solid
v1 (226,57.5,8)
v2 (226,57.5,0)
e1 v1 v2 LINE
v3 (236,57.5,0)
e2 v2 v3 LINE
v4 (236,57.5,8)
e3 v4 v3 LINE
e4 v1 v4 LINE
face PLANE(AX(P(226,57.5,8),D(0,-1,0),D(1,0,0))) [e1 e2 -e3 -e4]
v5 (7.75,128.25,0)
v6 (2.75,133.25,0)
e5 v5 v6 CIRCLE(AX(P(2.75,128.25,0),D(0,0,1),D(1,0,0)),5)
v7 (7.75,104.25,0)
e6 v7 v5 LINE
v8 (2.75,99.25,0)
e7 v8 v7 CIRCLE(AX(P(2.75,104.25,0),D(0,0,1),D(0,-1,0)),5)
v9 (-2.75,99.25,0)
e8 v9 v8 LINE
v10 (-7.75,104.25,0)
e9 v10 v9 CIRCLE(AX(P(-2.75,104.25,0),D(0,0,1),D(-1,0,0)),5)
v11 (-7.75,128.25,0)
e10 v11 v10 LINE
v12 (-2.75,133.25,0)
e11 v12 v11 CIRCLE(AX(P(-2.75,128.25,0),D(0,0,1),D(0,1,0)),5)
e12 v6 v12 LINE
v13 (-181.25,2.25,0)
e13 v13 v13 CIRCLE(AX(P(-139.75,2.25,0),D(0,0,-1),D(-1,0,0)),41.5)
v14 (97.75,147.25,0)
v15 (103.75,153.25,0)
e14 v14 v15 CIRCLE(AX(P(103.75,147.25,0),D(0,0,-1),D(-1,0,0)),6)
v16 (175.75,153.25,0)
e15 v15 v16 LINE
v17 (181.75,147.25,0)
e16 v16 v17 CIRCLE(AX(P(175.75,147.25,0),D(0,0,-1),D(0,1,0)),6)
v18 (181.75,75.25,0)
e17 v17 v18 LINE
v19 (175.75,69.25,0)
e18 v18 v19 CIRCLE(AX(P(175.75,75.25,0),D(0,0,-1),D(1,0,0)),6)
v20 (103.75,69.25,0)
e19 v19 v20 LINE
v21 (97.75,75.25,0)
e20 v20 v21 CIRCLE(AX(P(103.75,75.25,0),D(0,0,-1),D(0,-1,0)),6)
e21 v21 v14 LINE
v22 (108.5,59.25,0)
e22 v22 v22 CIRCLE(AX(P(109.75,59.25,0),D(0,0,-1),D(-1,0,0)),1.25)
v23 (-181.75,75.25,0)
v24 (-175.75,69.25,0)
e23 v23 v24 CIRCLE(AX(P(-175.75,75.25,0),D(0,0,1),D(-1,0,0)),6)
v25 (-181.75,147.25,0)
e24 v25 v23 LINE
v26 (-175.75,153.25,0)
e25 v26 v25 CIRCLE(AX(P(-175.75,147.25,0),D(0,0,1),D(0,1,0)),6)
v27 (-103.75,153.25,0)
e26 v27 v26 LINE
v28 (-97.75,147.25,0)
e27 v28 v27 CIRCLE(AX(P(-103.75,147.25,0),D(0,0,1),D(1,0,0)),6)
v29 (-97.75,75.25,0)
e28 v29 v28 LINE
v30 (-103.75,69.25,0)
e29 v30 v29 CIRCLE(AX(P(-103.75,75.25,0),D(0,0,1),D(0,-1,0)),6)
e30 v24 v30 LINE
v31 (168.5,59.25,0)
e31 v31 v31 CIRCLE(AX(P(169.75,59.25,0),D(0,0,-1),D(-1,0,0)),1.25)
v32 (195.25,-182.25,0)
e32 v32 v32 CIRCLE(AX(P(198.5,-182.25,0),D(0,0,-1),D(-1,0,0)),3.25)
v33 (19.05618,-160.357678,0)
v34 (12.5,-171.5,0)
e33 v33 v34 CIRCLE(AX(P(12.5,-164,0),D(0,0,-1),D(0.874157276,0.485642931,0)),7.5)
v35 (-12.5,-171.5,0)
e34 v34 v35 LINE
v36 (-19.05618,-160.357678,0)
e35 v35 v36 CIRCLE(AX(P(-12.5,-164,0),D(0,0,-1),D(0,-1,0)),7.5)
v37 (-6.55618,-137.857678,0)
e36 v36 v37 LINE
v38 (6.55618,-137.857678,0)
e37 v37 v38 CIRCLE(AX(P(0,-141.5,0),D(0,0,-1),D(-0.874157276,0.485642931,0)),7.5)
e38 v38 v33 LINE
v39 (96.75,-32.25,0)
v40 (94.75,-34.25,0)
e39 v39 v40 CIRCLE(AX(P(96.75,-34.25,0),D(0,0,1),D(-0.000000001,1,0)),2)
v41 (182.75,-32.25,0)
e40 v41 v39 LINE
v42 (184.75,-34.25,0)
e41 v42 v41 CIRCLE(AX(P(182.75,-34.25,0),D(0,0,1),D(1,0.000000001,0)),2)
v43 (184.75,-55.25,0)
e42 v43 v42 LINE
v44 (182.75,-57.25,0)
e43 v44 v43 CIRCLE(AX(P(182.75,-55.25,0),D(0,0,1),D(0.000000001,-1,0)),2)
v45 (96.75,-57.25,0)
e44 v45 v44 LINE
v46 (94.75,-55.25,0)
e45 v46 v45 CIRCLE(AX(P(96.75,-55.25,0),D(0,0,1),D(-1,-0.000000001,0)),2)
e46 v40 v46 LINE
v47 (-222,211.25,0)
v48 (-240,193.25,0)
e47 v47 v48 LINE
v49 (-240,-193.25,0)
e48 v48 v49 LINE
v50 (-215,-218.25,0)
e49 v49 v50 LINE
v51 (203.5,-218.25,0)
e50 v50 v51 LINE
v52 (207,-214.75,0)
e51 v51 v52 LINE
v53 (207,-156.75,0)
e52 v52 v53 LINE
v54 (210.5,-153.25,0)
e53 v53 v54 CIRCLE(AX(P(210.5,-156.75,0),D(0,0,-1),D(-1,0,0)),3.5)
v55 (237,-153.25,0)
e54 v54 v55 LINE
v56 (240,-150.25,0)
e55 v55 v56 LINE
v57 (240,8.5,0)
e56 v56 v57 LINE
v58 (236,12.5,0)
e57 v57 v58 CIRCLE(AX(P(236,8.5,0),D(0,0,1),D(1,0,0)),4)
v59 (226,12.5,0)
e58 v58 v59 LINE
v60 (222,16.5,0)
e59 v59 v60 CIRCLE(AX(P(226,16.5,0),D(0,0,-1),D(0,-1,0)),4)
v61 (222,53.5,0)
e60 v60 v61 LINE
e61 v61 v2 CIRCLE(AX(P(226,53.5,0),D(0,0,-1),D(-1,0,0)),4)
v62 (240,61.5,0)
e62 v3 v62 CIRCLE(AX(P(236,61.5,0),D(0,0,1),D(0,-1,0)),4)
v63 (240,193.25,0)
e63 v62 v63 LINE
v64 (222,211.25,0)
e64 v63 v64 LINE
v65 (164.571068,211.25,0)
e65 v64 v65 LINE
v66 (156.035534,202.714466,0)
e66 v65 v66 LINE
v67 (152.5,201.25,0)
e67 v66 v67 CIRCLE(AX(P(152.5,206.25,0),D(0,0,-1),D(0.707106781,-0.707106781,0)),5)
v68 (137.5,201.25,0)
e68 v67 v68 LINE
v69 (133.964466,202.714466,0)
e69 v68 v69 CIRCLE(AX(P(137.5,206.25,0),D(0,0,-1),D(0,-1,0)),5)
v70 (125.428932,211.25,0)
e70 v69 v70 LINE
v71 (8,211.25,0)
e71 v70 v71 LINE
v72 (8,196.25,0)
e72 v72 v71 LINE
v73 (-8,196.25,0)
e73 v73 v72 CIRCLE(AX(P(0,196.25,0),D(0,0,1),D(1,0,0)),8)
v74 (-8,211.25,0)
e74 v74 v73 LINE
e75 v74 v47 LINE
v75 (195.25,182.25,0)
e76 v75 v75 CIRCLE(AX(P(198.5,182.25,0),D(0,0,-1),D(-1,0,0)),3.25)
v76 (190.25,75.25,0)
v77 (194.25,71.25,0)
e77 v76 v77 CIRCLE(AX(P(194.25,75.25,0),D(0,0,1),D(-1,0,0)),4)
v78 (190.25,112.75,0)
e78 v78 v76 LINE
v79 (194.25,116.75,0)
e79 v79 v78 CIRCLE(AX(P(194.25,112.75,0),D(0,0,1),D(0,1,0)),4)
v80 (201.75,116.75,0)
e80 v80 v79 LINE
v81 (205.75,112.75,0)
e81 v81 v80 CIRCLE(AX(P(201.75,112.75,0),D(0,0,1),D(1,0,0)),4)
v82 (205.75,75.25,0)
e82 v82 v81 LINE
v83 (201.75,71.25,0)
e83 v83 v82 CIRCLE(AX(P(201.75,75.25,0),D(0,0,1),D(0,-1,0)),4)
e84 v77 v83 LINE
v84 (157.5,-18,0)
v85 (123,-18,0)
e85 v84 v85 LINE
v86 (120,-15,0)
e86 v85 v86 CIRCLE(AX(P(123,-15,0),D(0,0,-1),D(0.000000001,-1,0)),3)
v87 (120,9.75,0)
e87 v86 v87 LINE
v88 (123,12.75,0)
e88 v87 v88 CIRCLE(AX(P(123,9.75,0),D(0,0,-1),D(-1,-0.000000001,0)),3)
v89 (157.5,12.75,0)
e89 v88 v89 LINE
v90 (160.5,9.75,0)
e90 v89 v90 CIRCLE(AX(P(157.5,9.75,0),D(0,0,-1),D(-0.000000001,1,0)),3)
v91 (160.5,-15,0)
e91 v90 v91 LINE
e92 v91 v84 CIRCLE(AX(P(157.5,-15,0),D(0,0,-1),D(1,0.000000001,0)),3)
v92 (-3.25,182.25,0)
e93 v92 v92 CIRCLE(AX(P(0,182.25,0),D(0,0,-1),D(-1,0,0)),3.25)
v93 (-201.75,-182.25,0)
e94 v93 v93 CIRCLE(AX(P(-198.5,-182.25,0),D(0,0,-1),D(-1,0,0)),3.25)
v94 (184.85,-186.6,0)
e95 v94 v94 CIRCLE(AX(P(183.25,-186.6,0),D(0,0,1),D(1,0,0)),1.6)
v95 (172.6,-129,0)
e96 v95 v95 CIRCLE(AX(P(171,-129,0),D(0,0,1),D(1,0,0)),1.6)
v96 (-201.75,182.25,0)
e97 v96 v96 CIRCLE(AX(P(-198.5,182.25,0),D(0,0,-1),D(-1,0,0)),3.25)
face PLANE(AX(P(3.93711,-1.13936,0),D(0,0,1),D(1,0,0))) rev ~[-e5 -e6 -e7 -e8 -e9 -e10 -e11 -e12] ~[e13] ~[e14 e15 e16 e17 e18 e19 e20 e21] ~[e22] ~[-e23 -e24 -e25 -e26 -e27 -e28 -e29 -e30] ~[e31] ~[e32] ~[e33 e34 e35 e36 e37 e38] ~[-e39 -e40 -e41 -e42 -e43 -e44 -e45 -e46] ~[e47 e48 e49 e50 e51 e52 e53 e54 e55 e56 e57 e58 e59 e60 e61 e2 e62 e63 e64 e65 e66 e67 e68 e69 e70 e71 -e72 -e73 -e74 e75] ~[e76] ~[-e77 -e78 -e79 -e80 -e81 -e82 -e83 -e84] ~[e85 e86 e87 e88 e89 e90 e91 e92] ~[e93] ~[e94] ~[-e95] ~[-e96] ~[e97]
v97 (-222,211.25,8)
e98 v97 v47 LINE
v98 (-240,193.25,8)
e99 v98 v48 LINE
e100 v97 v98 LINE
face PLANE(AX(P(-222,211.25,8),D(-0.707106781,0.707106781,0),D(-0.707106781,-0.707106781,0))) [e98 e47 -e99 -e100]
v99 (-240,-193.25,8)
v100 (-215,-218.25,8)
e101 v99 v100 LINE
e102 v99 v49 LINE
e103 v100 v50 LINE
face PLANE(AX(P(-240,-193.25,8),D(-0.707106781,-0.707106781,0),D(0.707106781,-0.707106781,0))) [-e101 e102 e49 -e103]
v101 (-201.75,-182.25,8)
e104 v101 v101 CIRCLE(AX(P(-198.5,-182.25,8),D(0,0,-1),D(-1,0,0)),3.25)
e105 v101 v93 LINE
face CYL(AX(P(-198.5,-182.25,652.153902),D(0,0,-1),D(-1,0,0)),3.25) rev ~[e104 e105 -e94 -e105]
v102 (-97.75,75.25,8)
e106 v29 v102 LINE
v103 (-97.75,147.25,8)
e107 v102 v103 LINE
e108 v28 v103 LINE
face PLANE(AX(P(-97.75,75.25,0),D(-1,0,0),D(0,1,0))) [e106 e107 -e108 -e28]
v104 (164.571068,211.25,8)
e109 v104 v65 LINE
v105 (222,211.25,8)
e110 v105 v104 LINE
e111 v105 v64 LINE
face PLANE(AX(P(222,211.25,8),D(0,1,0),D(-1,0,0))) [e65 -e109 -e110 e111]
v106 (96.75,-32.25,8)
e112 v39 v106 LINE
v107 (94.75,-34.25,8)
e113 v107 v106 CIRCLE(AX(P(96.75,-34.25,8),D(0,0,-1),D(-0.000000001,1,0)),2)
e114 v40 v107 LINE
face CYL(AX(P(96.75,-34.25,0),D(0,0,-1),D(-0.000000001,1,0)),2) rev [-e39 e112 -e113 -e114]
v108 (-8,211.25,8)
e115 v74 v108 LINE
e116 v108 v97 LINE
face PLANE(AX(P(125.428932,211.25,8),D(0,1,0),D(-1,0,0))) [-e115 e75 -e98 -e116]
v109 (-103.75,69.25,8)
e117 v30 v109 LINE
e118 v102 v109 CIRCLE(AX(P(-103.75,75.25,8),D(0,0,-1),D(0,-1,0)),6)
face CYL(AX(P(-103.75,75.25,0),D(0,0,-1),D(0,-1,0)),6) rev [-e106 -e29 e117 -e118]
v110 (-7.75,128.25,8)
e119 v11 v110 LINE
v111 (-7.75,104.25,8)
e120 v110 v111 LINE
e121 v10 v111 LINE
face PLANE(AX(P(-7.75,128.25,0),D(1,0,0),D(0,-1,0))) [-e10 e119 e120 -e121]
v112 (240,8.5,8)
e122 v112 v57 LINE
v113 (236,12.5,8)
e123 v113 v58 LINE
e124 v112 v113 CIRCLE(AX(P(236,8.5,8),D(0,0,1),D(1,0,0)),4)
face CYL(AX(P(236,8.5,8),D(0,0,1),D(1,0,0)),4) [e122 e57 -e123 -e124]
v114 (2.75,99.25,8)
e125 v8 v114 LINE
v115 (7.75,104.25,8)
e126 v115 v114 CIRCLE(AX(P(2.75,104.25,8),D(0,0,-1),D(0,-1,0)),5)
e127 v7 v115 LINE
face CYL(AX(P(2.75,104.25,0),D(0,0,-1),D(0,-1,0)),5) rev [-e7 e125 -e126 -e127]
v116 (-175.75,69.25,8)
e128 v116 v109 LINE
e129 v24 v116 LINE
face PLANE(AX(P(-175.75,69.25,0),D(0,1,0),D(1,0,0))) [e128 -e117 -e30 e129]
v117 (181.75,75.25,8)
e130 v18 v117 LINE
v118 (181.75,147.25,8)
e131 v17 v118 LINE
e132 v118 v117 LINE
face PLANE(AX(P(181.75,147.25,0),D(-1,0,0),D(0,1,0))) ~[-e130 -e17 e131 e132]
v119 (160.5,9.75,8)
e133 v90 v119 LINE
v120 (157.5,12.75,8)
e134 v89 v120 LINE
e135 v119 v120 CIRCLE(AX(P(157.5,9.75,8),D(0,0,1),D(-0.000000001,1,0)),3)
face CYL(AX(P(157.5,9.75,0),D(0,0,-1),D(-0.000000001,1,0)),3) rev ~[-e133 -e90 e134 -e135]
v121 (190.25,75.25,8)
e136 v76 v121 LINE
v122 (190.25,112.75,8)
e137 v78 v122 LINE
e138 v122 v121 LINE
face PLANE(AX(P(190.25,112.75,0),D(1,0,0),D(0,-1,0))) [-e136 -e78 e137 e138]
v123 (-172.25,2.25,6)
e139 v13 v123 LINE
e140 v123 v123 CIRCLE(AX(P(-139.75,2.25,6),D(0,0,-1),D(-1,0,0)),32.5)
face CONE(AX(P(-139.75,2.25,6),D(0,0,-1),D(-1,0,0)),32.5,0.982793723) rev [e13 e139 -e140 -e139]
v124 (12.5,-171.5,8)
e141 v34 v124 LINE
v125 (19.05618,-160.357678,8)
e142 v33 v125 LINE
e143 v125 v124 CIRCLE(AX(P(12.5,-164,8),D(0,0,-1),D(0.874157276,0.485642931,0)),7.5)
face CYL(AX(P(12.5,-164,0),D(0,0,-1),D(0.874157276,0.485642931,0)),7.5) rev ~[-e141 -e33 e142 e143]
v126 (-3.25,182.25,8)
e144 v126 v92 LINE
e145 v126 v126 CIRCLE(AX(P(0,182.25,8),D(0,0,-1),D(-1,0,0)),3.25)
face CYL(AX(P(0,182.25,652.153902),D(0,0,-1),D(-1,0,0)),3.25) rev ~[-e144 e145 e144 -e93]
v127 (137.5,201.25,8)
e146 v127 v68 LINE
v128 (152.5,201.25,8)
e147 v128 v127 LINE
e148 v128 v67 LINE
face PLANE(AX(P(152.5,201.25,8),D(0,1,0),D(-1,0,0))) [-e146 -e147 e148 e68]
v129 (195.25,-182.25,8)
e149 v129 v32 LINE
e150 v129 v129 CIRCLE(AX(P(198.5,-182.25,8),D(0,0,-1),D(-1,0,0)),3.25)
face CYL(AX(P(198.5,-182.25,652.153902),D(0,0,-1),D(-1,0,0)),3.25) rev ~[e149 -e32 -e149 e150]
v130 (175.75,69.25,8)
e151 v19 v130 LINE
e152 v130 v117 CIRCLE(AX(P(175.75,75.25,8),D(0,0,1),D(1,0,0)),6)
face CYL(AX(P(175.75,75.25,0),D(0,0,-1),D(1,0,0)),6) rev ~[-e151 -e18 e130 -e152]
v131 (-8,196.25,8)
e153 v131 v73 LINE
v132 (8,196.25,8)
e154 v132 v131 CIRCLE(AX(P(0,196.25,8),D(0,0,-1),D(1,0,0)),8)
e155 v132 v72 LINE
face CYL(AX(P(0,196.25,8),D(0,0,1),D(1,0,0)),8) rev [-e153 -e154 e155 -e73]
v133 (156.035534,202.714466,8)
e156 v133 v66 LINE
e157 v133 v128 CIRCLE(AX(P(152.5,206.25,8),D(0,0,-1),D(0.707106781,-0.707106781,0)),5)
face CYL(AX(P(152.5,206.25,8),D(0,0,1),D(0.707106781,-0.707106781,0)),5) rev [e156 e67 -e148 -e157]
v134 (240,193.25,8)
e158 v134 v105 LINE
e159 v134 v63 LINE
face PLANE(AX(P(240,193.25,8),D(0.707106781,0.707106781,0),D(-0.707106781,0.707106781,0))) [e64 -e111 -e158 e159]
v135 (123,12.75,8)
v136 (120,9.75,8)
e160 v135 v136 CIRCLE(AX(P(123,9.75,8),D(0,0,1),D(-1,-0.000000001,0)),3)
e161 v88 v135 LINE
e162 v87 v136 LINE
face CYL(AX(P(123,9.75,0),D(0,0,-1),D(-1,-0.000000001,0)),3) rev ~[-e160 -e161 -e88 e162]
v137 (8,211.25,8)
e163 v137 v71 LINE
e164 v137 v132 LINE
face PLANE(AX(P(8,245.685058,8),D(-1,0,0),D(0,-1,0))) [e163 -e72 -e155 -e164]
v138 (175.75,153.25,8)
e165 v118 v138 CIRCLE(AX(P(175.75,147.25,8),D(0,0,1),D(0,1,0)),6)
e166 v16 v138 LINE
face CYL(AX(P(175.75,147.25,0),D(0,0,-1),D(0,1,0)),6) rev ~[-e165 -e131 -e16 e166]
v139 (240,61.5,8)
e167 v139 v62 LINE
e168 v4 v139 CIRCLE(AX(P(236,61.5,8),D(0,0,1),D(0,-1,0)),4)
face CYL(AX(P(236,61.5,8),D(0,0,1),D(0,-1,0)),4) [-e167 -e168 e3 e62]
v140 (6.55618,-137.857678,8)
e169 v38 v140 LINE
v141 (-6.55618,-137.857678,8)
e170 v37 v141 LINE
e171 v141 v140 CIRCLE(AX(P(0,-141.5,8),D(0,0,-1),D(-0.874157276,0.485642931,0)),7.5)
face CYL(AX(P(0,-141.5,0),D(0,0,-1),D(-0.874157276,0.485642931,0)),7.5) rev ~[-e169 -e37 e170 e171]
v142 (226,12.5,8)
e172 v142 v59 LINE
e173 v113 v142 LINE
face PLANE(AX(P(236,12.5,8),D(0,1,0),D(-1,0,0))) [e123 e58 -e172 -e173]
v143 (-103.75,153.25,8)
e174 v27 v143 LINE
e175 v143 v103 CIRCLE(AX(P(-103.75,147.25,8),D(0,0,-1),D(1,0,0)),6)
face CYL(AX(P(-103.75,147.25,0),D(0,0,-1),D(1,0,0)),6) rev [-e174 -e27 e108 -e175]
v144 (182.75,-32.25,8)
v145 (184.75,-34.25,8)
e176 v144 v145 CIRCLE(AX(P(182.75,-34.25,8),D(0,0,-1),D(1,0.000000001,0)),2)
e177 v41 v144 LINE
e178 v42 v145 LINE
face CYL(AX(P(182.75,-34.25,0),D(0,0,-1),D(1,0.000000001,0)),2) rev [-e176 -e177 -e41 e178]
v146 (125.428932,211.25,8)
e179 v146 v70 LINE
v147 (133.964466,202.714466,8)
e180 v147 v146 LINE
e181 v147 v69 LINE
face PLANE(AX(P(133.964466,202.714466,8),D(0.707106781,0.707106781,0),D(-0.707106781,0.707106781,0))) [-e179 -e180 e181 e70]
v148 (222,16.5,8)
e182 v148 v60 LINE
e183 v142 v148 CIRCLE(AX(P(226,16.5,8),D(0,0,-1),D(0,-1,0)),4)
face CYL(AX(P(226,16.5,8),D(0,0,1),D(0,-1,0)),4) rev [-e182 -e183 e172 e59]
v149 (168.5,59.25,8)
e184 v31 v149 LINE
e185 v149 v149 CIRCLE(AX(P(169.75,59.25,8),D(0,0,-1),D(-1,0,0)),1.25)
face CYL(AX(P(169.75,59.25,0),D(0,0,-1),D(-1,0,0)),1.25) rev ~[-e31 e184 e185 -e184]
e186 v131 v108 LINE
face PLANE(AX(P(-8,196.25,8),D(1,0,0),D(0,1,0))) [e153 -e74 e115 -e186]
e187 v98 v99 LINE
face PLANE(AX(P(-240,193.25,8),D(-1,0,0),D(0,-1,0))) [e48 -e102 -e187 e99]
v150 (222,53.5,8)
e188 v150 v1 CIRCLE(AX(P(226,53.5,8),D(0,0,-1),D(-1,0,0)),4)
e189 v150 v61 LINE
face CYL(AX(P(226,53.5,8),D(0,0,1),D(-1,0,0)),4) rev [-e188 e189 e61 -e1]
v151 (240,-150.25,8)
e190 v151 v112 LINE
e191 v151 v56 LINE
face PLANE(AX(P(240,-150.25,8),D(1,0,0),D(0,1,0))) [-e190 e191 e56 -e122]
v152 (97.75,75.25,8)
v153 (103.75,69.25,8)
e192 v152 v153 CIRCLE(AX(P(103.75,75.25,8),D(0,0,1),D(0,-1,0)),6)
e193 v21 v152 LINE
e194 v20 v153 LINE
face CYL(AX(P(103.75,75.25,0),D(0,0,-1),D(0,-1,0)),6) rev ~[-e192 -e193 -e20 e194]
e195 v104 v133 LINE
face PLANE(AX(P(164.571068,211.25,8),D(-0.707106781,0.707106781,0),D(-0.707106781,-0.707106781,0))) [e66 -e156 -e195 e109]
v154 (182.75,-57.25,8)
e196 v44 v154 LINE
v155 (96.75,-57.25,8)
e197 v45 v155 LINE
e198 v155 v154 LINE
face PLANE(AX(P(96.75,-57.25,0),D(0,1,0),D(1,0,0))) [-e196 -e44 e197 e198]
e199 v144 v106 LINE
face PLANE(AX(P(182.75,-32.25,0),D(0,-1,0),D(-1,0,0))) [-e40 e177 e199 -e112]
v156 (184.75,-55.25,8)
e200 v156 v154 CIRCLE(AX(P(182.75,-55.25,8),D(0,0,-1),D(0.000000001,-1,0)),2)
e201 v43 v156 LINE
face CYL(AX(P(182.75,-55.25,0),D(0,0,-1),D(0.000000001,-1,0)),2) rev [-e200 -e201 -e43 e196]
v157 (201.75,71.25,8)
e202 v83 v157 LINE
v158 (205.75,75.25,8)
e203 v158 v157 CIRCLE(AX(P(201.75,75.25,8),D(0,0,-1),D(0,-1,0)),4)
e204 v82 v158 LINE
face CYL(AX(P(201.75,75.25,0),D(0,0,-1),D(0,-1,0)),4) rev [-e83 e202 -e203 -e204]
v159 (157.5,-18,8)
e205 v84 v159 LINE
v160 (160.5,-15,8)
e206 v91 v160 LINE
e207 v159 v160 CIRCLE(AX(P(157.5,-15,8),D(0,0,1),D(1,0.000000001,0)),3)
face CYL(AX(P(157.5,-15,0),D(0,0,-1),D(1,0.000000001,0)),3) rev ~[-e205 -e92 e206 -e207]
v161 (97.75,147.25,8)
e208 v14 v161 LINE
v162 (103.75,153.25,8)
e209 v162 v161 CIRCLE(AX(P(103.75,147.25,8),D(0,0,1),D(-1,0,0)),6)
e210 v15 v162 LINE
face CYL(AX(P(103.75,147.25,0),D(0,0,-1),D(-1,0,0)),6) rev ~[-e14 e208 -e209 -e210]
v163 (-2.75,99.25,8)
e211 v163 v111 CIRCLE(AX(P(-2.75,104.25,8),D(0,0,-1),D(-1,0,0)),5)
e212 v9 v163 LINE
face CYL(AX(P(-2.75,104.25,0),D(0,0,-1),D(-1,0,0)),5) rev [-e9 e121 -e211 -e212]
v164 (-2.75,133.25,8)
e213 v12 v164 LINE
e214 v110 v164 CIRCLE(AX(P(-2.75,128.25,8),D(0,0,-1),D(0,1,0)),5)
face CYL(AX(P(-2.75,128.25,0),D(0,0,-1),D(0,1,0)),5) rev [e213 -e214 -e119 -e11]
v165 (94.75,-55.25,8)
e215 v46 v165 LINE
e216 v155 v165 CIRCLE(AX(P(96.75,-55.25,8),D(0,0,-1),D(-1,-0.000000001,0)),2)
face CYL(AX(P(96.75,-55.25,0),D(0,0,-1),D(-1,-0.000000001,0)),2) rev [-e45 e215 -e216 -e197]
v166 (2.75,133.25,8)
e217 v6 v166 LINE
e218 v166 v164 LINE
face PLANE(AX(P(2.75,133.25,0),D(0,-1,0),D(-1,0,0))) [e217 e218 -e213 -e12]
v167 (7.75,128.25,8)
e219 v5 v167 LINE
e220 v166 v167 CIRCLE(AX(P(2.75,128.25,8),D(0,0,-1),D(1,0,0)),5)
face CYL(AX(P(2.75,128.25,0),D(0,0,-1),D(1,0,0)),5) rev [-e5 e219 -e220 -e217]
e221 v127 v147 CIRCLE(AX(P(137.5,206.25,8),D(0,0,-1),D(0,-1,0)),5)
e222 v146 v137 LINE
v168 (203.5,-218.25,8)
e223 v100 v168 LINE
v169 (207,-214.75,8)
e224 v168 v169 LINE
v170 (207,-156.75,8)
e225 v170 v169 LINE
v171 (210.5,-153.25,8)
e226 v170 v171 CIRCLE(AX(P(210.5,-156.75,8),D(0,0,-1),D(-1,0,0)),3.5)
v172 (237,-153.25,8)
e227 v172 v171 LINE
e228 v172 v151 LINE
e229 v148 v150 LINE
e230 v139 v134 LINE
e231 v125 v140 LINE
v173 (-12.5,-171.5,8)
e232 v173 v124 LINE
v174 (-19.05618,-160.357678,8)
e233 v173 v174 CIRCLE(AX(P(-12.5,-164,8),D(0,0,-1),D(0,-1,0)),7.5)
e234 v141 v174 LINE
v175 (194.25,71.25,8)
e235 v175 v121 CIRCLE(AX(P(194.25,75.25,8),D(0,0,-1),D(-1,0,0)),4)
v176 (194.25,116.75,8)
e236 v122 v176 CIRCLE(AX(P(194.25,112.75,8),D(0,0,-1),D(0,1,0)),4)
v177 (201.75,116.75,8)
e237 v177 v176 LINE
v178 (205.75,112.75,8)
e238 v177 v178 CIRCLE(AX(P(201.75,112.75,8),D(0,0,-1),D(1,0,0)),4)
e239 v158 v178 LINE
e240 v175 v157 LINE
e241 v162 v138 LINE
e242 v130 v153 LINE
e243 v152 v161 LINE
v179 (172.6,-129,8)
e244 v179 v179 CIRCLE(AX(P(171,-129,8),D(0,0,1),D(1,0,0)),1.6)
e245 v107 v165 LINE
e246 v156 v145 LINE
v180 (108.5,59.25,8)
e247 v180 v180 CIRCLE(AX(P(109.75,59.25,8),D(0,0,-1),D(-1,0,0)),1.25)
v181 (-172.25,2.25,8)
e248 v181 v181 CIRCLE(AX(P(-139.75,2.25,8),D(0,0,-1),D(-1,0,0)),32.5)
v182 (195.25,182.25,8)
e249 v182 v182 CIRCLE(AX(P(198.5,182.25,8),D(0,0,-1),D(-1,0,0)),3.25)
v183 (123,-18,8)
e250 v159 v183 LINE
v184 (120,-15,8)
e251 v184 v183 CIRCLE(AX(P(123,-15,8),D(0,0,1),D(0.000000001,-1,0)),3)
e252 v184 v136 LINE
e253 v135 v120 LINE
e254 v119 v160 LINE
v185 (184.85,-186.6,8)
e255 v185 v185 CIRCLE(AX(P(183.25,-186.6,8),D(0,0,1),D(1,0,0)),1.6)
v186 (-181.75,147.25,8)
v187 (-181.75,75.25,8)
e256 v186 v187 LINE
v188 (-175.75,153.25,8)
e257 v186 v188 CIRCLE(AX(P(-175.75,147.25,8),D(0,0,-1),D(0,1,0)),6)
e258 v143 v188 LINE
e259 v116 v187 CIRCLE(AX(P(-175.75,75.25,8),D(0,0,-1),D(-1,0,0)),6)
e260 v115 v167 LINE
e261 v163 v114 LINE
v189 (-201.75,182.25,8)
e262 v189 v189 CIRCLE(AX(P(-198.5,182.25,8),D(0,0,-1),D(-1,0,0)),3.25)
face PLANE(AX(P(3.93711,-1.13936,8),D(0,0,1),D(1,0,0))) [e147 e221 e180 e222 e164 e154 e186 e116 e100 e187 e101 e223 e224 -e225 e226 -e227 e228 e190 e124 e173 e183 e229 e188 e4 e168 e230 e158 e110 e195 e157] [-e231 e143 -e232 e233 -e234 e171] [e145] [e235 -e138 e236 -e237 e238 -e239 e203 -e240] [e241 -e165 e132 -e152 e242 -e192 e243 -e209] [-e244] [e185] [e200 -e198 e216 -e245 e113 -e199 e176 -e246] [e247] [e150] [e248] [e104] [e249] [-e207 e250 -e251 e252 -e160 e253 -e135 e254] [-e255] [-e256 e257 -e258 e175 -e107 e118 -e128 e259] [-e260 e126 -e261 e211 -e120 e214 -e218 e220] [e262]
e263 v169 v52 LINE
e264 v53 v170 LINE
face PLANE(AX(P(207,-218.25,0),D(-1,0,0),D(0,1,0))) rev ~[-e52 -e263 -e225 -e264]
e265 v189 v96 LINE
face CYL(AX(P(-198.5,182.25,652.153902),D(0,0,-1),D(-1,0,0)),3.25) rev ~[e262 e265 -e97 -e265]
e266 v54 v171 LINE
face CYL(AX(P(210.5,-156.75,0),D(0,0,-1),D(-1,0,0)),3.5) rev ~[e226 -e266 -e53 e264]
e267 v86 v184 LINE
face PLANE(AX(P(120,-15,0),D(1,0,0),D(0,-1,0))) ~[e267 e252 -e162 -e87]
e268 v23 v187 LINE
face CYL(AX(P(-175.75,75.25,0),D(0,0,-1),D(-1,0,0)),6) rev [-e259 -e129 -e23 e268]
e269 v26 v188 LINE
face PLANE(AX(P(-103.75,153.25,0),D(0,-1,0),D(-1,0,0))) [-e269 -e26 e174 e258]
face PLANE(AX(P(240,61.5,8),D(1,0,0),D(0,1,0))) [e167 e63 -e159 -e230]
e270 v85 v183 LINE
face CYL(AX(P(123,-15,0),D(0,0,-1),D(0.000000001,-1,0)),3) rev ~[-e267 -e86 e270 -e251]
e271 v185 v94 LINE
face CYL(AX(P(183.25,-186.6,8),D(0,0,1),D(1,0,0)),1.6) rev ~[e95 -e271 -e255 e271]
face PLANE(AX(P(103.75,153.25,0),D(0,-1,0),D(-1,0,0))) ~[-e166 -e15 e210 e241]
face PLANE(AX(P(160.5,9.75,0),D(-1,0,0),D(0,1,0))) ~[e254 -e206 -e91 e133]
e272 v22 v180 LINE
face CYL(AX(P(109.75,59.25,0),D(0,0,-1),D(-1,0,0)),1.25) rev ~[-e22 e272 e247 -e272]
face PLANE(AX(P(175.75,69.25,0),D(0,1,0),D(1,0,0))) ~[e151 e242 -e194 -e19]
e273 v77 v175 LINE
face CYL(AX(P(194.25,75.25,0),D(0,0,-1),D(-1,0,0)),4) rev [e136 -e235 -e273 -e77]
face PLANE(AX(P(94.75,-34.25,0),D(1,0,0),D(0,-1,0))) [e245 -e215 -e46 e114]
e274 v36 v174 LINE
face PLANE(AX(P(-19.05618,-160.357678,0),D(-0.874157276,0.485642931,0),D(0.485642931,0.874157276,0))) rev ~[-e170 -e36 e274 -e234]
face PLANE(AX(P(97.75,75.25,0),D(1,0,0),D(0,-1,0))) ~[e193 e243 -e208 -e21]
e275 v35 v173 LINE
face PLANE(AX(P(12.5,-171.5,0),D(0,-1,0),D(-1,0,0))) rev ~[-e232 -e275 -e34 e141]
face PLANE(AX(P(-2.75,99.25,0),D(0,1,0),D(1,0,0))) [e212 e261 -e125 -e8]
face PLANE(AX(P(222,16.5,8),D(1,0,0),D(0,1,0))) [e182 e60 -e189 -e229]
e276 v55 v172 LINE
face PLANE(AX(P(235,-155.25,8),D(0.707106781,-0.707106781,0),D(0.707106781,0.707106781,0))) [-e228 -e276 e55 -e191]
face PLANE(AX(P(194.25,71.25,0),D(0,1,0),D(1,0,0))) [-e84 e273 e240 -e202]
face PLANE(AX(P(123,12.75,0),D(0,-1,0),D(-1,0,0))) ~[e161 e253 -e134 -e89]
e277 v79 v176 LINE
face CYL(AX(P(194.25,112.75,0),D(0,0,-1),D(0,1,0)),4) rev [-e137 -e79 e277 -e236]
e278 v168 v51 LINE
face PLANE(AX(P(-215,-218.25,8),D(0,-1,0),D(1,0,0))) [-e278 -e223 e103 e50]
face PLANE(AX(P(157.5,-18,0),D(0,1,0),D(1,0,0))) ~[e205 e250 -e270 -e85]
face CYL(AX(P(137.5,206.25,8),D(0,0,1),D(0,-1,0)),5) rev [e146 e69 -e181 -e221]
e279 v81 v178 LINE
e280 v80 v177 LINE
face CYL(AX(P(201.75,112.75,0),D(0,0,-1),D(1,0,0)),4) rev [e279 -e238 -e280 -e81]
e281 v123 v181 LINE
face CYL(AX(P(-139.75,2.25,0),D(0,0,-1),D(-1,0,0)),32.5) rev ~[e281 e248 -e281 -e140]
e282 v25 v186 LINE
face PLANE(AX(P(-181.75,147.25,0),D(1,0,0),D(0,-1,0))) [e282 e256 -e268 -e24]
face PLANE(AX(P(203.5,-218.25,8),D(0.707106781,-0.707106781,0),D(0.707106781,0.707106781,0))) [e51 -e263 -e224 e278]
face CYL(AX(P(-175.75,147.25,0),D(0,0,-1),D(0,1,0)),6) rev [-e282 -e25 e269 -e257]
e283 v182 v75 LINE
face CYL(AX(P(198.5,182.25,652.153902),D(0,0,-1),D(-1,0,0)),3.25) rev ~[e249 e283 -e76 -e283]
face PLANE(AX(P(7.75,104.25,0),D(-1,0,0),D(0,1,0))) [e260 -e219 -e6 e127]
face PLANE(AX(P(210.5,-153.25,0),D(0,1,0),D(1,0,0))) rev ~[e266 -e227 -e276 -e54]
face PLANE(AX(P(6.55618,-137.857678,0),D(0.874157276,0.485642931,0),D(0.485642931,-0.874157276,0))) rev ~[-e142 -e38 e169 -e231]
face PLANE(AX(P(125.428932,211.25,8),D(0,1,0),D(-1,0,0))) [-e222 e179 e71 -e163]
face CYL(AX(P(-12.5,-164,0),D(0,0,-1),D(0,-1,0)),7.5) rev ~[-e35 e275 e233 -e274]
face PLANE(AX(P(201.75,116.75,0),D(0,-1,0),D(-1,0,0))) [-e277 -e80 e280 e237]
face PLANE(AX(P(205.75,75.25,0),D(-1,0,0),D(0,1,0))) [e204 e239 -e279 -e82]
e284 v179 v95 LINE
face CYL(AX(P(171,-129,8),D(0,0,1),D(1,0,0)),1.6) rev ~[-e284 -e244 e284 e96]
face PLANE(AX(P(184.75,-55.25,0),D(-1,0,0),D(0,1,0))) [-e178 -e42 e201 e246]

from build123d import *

# Parameters (mm, degrees)
BOSS_EXTRUDE1_DEPTH        = 8
F_6_5_6_5_DIAMETER_HOLE1_D = 6.5
CUT_EXTRUDE1_DEPTH         = 325.495088493
CUT_EXTRUDE6_REACH         = 326.495
CUT_EXTRUDE7_REACH         = 326.495
CUT_EXTRUDE5_REACH         = 326.495
SKETCH9_R                  = 32.5
CHAMFER1_SIZE              = 9
CHAMFER1_SIZE2             = 6
CUT_EXTRUDE8_REACH         = 326.495
SKETCH13_R                 = 1.6
CUT_EXTRUDE9_REACH         = 326.495
CUT_EXTRUDE10_DEPTH        = 325.495088493
CUT_EXTRUDE11_REACH        = 326.495
SKETCH16_R                 = 1.25


with BuildPart() as part:
    # Sketch1 → Boss-Extrude1 (new body)
    with BuildSketch(Plane.XY.offset(8)):
        with BuildLine():
            Line((152.5, 201.25), (137.5, 201.25))
            ThreePointArc((137.5, 201.25), (135.586582838, 201.630602337), (133.964466094, 202.714466094))
            Line((133.964466094, 202.714466094), (125.428932188, 211.25))
            Line((125.428932188, 211.25), (-222, 211.25))
            Line((-222, 211.25), (-240, 193.25))
            Line((-240, 193.25), (-240, -193.249999907))
            Line((-240, -193.249999907), (-215.000000007, -218.249999899))
            Line((-215.000000007, -218.249999899), (203.5, -218.249999899))
            Line((203.5, -218.249999899), (208.5, -213.249999899))
            Line((208.5, -213.249999899), (208.5, -157.249999899))
            ThreePointArc((208.5, -157.249999899), (209.085786438, -155.835786337), (210.5, -155.249999899))
            Line((210.5, -155.249999899), (235, -155.249999899))
            Line((235, -155.249999899), (240, -150.249999899))
            Line((240, -150.249999899), (240, 8.5))
            ThreePointArc((240, 8.5), (238.828427125, 11.328427125), (236, 12.5))
            Line((236, 12.5), (226, 12.5))
            ThreePointArc((226, 12.5), (223.171572875, 13.671572875), (222, 16.5))
            Line((222, 16.5), (222, 53.5))
            ThreePointArc((222, 53.5), (223.171572875, 56.328427125), (226, 57.5))
            Line((226, 57.5), (236, 57.5))
            ThreePointArc((236, 57.5), (238.828427125, 58.671572875), (240, 61.5))
            Line((240, 61.5), (240, 193.25))
            Line((240, 193.25), (222, 211.25))
            Line((222, 211.25), (164.571067812, 211.25))
            Line((164.571067812, 211.25), (156.035533906, 202.714466094))
            ThreePointArc((156.035533906, 202.714466094), (154.413417162, 201.630602337), (152.5, 201.25))
        make_face()
    extrude(amount=-BOSS_EXTRUDE1_DEPTH)

    # Ø6.5 (6.5) Diameter Hole1 (through all)
    with Locations(Plane.XY.offset(8)):
        with Locations((198.5, -182.25), (0, 182.25), (-198.5, -182.25), (198.5, 182.25), (-198.5, 182.25)):
            Hole(F_6_5_6_5_DIAMETER_HOLE1_D / 2)

    # Sketch4 → Cut-Extrude1 (cut, through all)
    with BuildSketch(Plane(origin=(0, 0, 0), x_dir=(-1, 0, 0), z_dir=(0, 0, -1))):
        with BuildLine():
            Line((-6.556179571, -137.857678016), (-19.056179571, -160.357678016))
            ThreePointArc((-19.056179571, -160.357678016), (-18.964031825, -167.803457974), (-12.5, -171.5))
            Line((-12.5, -171.5), (12.5, -171.5))
            ThreePointArc((12.5, -171.5), (18.964031825, -167.803457974), (19.056179571, -160.357678016))
            Line((19.056179571, -160.357678016), (6.556179571, -137.857678016))
            ThreePointArc((6.556179571, -137.857678016), (0, -134), (-6.556179571, -137.857678016))
        make_face()
    extrude(amount=-CUT_EXTRUDE1_DEPTH, mode=Mode.SUBTRACT)

    # Sketch12 → Cut-Extrude6 (cut, up to next)
    with BuildSketch(Plane(origin=(0, 0, 0), x_dir=(-1, 0, 0), z_dir=(0, 0, -1)), mode=Mode.PRIVATE) as cut_extrude6_sk1:
        with BuildLine():
            Line((103.75, 153.25), (175.75, 153.25))
            ThreePointArc((175.75, 153.25), (179.992640687, 151.492640687), (181.75, 147.25))
            Line((181.75, 147.25), (181.75, 75.25))
            ThreePointArc((181.75, 75.25), (179.992640687, 71.007359313), (175.75, 69.25))
            Line((175.75, 69.25), (103.75, 69.25))
            ThreePointArc((103.75, 69.25), (99.507359313, 71.007359313), (97.75, 75.25))
            Line((97.75, 75.25), (97.75, 147.25))
            ThreePointArc((97.75, 147.25), (99.507359313, 151.492640687), (103.75, 153.25))
        make_face()
    cut_extrude6_tool1 = extrude(cut_extrude6_sk1.sketch, amount=-CUT_EXTRUDE6_REACH, mode=Mode.PRIVATE) & part.part
    # Sketch12 → Cut-Extrude6 (cut, up to next)
    with BuildSketch(Plane(origin=(0, 0, 0), x_dir=(-1, 0, 0), z_dir=(0, 0, -1)), mode=Mode.PRIVATE) as cut_extrude6_sk2:
        with BuildLine():
            Line((123, 12.75), (157.5, 12.75))
            ThreePointArc((157.5, 12.75), (159.621320344, 11.871320344), (160.5, 9.75))
            Line((160.5, 9.75), (160.5, -15))
            ThreePointArc((160.5, -15), (159.621320344, -17.121320344), (157.5, -18))
            Line((157.5, -18), (123, -18))
            ThreePointArc((123, -18), (120.878679656, -17.121320344), (120, -15))
            Line((120, -15), (120, 9.75))
            ThreePointArc((120, 9.75), (120.878679656, 11.871320344), (123, 12.75))
        make_face()
    cut_extrude6_tool2 = extrude(cut_extrude6_sk2.sketch, amount=-CUT_EXTRUDE6_REACH, mode=Mode.PRIVATE) & part.part
    cut_extrude6_1 = cut_extrude6_tool1.solids().sort_by_distance((-139.75, 111.25, 0))[0]
    add(cut_extrude6_1, mode=Mode.SUBTRACT)
    cut_extrude6_2 = cut_extrude6_tool2.solids().sort_by_distance((-140.25, -2.625, 0))[0]
    add(cut_extrude6_2, mode=Mode.SUBTRACT)
    cut_extrude6 = cut_extrude6_1 + cut_extrude6_2  # Cut-Extrude6 as one shape, for the pattern or mirror that repeats it

    # Mirror1: Cut-Extrude6 across plane
    add(cut_extrude6.mirror(Plane(origin=(0, 0, 0), x_dir=(0, 0, 1), z_dir=(1, 0, 0))), mode=Mode.SUBTRACT)

    # Sketch11 → Cut-Extrude7 (cut, up to next)
    with BuildSketch(Plane(origin=(0, 0, 0), x_dir=(-1, 0, 0), z_dir=(0, 0, -1)), mode=Mode.PRIVATE) as cut_extrude7_sk1:
        with BuildLine():
            Line((-2.75, 133.25), (2.75, 133.25))
            ThreePointArc((2.75, 133.25), (6.285533906, 131.785533906), (7.75, 128.25))
            Line((7.75, 128.25), (7.75, 104.25))
            ThreePointArc((7.75, 104.25), (6.285533906, 100.714466094), (2.75, 99.25))
            Line((2.75, 99.25), (-2.75, 99.25))
            ThreePointArc((-2.75, 99.25), (-6.285533906, 100.714466094), (-7.75, 104.25))
            Line((-7.75, 104.25), (-7.75, 128.25))
            ThreePointArc((-7.75, 128.25), (-6.285533906, 131.785533906), (-2.75, 133.25))
        make_face()
    cut_extrude7_tool1 = extrude(cut_extrude7_sk1.sketch, amount=-CUT_EXTRUDE7_REACH, mode=Mode.PRIVATE) & part.part
    # Sketch11 → Cut-Extrude7 (cut, up to next)
    with BuildSketch(Plane(origin=(0, 0, 0), x_dir=(-1, 0, 0), z_dir=(0, 0, -1)), mode=Mode.PRIVATE) as cut_extrude7_sk2:
        with BuildLine():
            Line((-201.75, 116.75), (-194.25, 116.75))
            ThreePointArc((-194.25, 116.75), (-191.421572875, 115.578427125), (-190.25, 112.75))
            Line((-190.25, 112.75), (-190.25, 75.25))
            ThreePointArc((-190.25, 75.25), (-191.421572875, 72.421572875), (-194.25, 71.25))
            Line((-194.25, 71.25), (-201.75, 71.25))
            ThreePointArc((-201.75, 71.25), (-204.578427125, 72.421572875), (-205.75, 75.25))
            Line((-205.75, 75.25), (-205.75, 112.75))
            ThreePointArc((-205.75, 112.75), (-204.578427125, 115.578427125), (-201.75, 116.75))
        make_face()
    cut_extrude7_tool2 = extrude(cut_extrude7_sk2.sketch, amount=-CUT_EXTRUDE7_REACH, mode=Mode.PRIVATE) & part.part
    add(cut_extrude7_tool1.solids().sort_by_distance((0, 116.25, 0))[0], mode=Mode.SUBTRACT)
    add(cut_extrude7_tool2.solids().sort_by_distance((198, 94, 0))[0], mode=Mode.SUBTRACT)

    # Sketch9 → Cut-Extrude5 (cut, up to next)
    with BuildSketch(Plane(origin=(0, 0, 0), x_dir=(-1, 0, 0), z_dir=(0, 0, -1)), mode=Mode.PRIVATE) as cut_extrude5_sk1:
        with Locations((139.75, 2.25)):
            Circle(SKETCH9_R)
    cut_extrude5_tool1 = extrude(cut_extrude5_sk1.sketch, amount=-CUT_EXTRUDE5_REACH, mode=Mode.PRIVATE) & part.part
    add(cut_extrude5_tool1.solids().sort_by_distance((-139.75, 2.25, 0))[0], mode=Mode.SUBTRACT)

    # Chamfer1
    chamfer1_edges = [part.edges().sort_by_distance(p)[0] for p in [
        (-107.25, 2.25, 0),
    ]]
    chamfer1_side = [part.faces().sort_by_distance(p)[0] for p in [
        (-2.503127198, -10.867495519, 0),
    ]]
    chamfer(chamfer1_edges, length=CHAMFER1_SIZE, length2=CHAMFER1_SIZE2, reference=chamfer1_side[0])

    # Sketch13 → Cut-Extrude8 (cut, up to next)
    with BuildSketch(Plane.XY.offset(8), mode=Mode.PRIVATE) as cut_extrude8_sk1:
        with Locations((171, -129)):
            Circle(SKETCH13_R)
    cut_extrude8_tool1 = extrude(cut_extrude8_sk1.sketch, amount=-CUT_EXTRUDE8_REACH, mode=Mode.PRIVATE) & part.part
    # Sketch13 → Cut-Extrude8 (cut, up to next)
    with BuildSketch(Plane.XY.offset(8), mode=Mode.PRIVATE) as cut_extrude8_sk2:
        with Locations((183.25, -186.6)):
            Circle(SKETCH13_R)
    cut_extrude8_tool2 = extrude(cut_extrude8_sk2.sketch, amount=-CUT_EXTRUDE8_REACH, mode=Mode.PRIVATE) & part.part
    add(cut_extrude8_tool1.solids().sort_by_distance((171, -129, 8))[0], mode=Mode.SUBTRACT)
    add(cut_extrude8_tool2.solids().sort_by_distance((183.25, -186.6, 8))[0], mode=Mode.SUBTRACT)

    # Sketch14 → Cut-Extrude9 (cut, up to next)
    with BuildSketch(Plane.XY.offset(8), mode=Mode.PRIVATE) as cut_extrude9_sk1:
        with BuildLine():
            Line((8, 245.685058497), (8, 196.25))
            ThreePointArc((8, 196.25), (0, 188.25), (-8, 196.25))
            Line((-8, 196.25), (-8, 245.685058497))
            ThreePointArc((-8, 245.685058497), (0, 253.685058497), (8, 245.685058497))
        make_face()
    cut_extrude9_tool1 = extrude(cut_extrude9_sk1.sketch, amount=-CUT_EXTRUDE9_REACH, mode=Mode.PRIVATE) & part.part
    add(cut_extrude9_tool1.solids().sort_by_distance((0, 220.967529, 8))[0], mode=Mode.SUBTRACT)

    # Sketch15 → Cut-Extrude10 (cut, through all)
    with BuildSketch(Plane(origin=(0, 0, 0), x_dir=(-1, 0, 0), z_dir=(0, 0, -1))):
        with BuildLine():
            Line((-240, -153.249999899), (-240, -218.249999899))
            Line((-240, -218.249999899), (-207, -218.249999899))
            Line((-207, -218.249999899), (-207, -156.749999899))
            ThreePointArc((-207, -156.749999899), (-208.025126266, -154.275126165), (-210.5, -153.249999899))
            Line((-210.5, -153.249999899), (-240, -153.249999899))
        make_face()
    extrude(amount=-CUT_EXTRUDE10_DEPTH, mode=Mode.SUBTRACT)

    # Sketch16 → Cut-Extrude11 (cut, up to next)
    with BuildSketch(Plane(origin=(0, 0, 0), x_dir=(-1, 0, 0), z_dir=(0, 0, -1)), mode=Mode.PRIVATE) as cut_extrude11_sk1:
        with Locations((-169.75, 59.25)):
            Circle(SKETCH16_R)
    cut_extrude11_tool1 = extrude(cut_extrude11_sk1.sketch, amount=-CUT_EXTRUDE11_REACH, mode=Mode.PRIVATE) & part.part
    # Sketch16 → Cut-Extrude11 (cut, up to next)
    with BuildSketch(Plane(origin=(0, 0, 0), x_dir=(-1, 0, 0), z_dir=(0, 0, -1)), mode=Mode.PRIVATE) as cut_extrude11_sk2:
        with Locations((-109.75, 59.25)):
            Circle(SKETCH16_R)
    cut_extrude11_tool2 = extrude(cut_extrude11_sk2.sketch, amount=-CUT_EXTRUDE11_REACH, mode=Mode.PRIVATE) & part.part
    # Sketch16 → Cut-Extrude11 (cut, up to next)
    with BuildSketch(Plane(origin=(0, 0, 0), x_dir=(-1, 0, 0), z_dir=(0, 0, -1)), mode=Mode.PRIVATE) as cut_extrude11_sk3:
        with BuildLine():
            Line((-182.75, -32.25), (-96.75, -32.25))
            ThreePointArc((-96.75, -32.25), (-95.335786438, -32.835786438), (-94.75, -34.25))
            Line((-94.75, -34.25), (-94.75, -55.25))
            ThreePointArc((-94.75, -55.25), (-95.335786438, -56.664213562), (-96.75, -57.25))
            Line((-96.75, -57.25), (-182.75, -57.25))
            ThreePointArc((-182.75, -57.25), (-184.164213562, -56.664213562), (-184.75, -55.25))
            Line((-184.75, -55.25), (-184.75, -34.25))
            ThreePointArc((-184.75, -34.25), (-184.164213562, -32.835786438), (-182.75, -32.25))
        make_face()
    cut_extrude11_tool3 = extrude(cut_extrude11_sk3.sketch, amount=-CUT_EXTRUDE11_REACH, mode=Mode.PRIVATE) & part.part
    add(cut_extrude11_tool1.solids().sort_by_distance((169.75, 59.25, 0))[0], mode=Mode.SUBTRACT)
    add(cut_extrude11_tool2.solids().sort_by_distance((109.75, 59.25, 0))[0], mode=Mode.SUBTRACT)
    add(cut_extrude11_tool3.solids().sort_by_distance((139.75, -44.75, 0))[0], mode=Mode.SUBTRACT)


solid = part.part
